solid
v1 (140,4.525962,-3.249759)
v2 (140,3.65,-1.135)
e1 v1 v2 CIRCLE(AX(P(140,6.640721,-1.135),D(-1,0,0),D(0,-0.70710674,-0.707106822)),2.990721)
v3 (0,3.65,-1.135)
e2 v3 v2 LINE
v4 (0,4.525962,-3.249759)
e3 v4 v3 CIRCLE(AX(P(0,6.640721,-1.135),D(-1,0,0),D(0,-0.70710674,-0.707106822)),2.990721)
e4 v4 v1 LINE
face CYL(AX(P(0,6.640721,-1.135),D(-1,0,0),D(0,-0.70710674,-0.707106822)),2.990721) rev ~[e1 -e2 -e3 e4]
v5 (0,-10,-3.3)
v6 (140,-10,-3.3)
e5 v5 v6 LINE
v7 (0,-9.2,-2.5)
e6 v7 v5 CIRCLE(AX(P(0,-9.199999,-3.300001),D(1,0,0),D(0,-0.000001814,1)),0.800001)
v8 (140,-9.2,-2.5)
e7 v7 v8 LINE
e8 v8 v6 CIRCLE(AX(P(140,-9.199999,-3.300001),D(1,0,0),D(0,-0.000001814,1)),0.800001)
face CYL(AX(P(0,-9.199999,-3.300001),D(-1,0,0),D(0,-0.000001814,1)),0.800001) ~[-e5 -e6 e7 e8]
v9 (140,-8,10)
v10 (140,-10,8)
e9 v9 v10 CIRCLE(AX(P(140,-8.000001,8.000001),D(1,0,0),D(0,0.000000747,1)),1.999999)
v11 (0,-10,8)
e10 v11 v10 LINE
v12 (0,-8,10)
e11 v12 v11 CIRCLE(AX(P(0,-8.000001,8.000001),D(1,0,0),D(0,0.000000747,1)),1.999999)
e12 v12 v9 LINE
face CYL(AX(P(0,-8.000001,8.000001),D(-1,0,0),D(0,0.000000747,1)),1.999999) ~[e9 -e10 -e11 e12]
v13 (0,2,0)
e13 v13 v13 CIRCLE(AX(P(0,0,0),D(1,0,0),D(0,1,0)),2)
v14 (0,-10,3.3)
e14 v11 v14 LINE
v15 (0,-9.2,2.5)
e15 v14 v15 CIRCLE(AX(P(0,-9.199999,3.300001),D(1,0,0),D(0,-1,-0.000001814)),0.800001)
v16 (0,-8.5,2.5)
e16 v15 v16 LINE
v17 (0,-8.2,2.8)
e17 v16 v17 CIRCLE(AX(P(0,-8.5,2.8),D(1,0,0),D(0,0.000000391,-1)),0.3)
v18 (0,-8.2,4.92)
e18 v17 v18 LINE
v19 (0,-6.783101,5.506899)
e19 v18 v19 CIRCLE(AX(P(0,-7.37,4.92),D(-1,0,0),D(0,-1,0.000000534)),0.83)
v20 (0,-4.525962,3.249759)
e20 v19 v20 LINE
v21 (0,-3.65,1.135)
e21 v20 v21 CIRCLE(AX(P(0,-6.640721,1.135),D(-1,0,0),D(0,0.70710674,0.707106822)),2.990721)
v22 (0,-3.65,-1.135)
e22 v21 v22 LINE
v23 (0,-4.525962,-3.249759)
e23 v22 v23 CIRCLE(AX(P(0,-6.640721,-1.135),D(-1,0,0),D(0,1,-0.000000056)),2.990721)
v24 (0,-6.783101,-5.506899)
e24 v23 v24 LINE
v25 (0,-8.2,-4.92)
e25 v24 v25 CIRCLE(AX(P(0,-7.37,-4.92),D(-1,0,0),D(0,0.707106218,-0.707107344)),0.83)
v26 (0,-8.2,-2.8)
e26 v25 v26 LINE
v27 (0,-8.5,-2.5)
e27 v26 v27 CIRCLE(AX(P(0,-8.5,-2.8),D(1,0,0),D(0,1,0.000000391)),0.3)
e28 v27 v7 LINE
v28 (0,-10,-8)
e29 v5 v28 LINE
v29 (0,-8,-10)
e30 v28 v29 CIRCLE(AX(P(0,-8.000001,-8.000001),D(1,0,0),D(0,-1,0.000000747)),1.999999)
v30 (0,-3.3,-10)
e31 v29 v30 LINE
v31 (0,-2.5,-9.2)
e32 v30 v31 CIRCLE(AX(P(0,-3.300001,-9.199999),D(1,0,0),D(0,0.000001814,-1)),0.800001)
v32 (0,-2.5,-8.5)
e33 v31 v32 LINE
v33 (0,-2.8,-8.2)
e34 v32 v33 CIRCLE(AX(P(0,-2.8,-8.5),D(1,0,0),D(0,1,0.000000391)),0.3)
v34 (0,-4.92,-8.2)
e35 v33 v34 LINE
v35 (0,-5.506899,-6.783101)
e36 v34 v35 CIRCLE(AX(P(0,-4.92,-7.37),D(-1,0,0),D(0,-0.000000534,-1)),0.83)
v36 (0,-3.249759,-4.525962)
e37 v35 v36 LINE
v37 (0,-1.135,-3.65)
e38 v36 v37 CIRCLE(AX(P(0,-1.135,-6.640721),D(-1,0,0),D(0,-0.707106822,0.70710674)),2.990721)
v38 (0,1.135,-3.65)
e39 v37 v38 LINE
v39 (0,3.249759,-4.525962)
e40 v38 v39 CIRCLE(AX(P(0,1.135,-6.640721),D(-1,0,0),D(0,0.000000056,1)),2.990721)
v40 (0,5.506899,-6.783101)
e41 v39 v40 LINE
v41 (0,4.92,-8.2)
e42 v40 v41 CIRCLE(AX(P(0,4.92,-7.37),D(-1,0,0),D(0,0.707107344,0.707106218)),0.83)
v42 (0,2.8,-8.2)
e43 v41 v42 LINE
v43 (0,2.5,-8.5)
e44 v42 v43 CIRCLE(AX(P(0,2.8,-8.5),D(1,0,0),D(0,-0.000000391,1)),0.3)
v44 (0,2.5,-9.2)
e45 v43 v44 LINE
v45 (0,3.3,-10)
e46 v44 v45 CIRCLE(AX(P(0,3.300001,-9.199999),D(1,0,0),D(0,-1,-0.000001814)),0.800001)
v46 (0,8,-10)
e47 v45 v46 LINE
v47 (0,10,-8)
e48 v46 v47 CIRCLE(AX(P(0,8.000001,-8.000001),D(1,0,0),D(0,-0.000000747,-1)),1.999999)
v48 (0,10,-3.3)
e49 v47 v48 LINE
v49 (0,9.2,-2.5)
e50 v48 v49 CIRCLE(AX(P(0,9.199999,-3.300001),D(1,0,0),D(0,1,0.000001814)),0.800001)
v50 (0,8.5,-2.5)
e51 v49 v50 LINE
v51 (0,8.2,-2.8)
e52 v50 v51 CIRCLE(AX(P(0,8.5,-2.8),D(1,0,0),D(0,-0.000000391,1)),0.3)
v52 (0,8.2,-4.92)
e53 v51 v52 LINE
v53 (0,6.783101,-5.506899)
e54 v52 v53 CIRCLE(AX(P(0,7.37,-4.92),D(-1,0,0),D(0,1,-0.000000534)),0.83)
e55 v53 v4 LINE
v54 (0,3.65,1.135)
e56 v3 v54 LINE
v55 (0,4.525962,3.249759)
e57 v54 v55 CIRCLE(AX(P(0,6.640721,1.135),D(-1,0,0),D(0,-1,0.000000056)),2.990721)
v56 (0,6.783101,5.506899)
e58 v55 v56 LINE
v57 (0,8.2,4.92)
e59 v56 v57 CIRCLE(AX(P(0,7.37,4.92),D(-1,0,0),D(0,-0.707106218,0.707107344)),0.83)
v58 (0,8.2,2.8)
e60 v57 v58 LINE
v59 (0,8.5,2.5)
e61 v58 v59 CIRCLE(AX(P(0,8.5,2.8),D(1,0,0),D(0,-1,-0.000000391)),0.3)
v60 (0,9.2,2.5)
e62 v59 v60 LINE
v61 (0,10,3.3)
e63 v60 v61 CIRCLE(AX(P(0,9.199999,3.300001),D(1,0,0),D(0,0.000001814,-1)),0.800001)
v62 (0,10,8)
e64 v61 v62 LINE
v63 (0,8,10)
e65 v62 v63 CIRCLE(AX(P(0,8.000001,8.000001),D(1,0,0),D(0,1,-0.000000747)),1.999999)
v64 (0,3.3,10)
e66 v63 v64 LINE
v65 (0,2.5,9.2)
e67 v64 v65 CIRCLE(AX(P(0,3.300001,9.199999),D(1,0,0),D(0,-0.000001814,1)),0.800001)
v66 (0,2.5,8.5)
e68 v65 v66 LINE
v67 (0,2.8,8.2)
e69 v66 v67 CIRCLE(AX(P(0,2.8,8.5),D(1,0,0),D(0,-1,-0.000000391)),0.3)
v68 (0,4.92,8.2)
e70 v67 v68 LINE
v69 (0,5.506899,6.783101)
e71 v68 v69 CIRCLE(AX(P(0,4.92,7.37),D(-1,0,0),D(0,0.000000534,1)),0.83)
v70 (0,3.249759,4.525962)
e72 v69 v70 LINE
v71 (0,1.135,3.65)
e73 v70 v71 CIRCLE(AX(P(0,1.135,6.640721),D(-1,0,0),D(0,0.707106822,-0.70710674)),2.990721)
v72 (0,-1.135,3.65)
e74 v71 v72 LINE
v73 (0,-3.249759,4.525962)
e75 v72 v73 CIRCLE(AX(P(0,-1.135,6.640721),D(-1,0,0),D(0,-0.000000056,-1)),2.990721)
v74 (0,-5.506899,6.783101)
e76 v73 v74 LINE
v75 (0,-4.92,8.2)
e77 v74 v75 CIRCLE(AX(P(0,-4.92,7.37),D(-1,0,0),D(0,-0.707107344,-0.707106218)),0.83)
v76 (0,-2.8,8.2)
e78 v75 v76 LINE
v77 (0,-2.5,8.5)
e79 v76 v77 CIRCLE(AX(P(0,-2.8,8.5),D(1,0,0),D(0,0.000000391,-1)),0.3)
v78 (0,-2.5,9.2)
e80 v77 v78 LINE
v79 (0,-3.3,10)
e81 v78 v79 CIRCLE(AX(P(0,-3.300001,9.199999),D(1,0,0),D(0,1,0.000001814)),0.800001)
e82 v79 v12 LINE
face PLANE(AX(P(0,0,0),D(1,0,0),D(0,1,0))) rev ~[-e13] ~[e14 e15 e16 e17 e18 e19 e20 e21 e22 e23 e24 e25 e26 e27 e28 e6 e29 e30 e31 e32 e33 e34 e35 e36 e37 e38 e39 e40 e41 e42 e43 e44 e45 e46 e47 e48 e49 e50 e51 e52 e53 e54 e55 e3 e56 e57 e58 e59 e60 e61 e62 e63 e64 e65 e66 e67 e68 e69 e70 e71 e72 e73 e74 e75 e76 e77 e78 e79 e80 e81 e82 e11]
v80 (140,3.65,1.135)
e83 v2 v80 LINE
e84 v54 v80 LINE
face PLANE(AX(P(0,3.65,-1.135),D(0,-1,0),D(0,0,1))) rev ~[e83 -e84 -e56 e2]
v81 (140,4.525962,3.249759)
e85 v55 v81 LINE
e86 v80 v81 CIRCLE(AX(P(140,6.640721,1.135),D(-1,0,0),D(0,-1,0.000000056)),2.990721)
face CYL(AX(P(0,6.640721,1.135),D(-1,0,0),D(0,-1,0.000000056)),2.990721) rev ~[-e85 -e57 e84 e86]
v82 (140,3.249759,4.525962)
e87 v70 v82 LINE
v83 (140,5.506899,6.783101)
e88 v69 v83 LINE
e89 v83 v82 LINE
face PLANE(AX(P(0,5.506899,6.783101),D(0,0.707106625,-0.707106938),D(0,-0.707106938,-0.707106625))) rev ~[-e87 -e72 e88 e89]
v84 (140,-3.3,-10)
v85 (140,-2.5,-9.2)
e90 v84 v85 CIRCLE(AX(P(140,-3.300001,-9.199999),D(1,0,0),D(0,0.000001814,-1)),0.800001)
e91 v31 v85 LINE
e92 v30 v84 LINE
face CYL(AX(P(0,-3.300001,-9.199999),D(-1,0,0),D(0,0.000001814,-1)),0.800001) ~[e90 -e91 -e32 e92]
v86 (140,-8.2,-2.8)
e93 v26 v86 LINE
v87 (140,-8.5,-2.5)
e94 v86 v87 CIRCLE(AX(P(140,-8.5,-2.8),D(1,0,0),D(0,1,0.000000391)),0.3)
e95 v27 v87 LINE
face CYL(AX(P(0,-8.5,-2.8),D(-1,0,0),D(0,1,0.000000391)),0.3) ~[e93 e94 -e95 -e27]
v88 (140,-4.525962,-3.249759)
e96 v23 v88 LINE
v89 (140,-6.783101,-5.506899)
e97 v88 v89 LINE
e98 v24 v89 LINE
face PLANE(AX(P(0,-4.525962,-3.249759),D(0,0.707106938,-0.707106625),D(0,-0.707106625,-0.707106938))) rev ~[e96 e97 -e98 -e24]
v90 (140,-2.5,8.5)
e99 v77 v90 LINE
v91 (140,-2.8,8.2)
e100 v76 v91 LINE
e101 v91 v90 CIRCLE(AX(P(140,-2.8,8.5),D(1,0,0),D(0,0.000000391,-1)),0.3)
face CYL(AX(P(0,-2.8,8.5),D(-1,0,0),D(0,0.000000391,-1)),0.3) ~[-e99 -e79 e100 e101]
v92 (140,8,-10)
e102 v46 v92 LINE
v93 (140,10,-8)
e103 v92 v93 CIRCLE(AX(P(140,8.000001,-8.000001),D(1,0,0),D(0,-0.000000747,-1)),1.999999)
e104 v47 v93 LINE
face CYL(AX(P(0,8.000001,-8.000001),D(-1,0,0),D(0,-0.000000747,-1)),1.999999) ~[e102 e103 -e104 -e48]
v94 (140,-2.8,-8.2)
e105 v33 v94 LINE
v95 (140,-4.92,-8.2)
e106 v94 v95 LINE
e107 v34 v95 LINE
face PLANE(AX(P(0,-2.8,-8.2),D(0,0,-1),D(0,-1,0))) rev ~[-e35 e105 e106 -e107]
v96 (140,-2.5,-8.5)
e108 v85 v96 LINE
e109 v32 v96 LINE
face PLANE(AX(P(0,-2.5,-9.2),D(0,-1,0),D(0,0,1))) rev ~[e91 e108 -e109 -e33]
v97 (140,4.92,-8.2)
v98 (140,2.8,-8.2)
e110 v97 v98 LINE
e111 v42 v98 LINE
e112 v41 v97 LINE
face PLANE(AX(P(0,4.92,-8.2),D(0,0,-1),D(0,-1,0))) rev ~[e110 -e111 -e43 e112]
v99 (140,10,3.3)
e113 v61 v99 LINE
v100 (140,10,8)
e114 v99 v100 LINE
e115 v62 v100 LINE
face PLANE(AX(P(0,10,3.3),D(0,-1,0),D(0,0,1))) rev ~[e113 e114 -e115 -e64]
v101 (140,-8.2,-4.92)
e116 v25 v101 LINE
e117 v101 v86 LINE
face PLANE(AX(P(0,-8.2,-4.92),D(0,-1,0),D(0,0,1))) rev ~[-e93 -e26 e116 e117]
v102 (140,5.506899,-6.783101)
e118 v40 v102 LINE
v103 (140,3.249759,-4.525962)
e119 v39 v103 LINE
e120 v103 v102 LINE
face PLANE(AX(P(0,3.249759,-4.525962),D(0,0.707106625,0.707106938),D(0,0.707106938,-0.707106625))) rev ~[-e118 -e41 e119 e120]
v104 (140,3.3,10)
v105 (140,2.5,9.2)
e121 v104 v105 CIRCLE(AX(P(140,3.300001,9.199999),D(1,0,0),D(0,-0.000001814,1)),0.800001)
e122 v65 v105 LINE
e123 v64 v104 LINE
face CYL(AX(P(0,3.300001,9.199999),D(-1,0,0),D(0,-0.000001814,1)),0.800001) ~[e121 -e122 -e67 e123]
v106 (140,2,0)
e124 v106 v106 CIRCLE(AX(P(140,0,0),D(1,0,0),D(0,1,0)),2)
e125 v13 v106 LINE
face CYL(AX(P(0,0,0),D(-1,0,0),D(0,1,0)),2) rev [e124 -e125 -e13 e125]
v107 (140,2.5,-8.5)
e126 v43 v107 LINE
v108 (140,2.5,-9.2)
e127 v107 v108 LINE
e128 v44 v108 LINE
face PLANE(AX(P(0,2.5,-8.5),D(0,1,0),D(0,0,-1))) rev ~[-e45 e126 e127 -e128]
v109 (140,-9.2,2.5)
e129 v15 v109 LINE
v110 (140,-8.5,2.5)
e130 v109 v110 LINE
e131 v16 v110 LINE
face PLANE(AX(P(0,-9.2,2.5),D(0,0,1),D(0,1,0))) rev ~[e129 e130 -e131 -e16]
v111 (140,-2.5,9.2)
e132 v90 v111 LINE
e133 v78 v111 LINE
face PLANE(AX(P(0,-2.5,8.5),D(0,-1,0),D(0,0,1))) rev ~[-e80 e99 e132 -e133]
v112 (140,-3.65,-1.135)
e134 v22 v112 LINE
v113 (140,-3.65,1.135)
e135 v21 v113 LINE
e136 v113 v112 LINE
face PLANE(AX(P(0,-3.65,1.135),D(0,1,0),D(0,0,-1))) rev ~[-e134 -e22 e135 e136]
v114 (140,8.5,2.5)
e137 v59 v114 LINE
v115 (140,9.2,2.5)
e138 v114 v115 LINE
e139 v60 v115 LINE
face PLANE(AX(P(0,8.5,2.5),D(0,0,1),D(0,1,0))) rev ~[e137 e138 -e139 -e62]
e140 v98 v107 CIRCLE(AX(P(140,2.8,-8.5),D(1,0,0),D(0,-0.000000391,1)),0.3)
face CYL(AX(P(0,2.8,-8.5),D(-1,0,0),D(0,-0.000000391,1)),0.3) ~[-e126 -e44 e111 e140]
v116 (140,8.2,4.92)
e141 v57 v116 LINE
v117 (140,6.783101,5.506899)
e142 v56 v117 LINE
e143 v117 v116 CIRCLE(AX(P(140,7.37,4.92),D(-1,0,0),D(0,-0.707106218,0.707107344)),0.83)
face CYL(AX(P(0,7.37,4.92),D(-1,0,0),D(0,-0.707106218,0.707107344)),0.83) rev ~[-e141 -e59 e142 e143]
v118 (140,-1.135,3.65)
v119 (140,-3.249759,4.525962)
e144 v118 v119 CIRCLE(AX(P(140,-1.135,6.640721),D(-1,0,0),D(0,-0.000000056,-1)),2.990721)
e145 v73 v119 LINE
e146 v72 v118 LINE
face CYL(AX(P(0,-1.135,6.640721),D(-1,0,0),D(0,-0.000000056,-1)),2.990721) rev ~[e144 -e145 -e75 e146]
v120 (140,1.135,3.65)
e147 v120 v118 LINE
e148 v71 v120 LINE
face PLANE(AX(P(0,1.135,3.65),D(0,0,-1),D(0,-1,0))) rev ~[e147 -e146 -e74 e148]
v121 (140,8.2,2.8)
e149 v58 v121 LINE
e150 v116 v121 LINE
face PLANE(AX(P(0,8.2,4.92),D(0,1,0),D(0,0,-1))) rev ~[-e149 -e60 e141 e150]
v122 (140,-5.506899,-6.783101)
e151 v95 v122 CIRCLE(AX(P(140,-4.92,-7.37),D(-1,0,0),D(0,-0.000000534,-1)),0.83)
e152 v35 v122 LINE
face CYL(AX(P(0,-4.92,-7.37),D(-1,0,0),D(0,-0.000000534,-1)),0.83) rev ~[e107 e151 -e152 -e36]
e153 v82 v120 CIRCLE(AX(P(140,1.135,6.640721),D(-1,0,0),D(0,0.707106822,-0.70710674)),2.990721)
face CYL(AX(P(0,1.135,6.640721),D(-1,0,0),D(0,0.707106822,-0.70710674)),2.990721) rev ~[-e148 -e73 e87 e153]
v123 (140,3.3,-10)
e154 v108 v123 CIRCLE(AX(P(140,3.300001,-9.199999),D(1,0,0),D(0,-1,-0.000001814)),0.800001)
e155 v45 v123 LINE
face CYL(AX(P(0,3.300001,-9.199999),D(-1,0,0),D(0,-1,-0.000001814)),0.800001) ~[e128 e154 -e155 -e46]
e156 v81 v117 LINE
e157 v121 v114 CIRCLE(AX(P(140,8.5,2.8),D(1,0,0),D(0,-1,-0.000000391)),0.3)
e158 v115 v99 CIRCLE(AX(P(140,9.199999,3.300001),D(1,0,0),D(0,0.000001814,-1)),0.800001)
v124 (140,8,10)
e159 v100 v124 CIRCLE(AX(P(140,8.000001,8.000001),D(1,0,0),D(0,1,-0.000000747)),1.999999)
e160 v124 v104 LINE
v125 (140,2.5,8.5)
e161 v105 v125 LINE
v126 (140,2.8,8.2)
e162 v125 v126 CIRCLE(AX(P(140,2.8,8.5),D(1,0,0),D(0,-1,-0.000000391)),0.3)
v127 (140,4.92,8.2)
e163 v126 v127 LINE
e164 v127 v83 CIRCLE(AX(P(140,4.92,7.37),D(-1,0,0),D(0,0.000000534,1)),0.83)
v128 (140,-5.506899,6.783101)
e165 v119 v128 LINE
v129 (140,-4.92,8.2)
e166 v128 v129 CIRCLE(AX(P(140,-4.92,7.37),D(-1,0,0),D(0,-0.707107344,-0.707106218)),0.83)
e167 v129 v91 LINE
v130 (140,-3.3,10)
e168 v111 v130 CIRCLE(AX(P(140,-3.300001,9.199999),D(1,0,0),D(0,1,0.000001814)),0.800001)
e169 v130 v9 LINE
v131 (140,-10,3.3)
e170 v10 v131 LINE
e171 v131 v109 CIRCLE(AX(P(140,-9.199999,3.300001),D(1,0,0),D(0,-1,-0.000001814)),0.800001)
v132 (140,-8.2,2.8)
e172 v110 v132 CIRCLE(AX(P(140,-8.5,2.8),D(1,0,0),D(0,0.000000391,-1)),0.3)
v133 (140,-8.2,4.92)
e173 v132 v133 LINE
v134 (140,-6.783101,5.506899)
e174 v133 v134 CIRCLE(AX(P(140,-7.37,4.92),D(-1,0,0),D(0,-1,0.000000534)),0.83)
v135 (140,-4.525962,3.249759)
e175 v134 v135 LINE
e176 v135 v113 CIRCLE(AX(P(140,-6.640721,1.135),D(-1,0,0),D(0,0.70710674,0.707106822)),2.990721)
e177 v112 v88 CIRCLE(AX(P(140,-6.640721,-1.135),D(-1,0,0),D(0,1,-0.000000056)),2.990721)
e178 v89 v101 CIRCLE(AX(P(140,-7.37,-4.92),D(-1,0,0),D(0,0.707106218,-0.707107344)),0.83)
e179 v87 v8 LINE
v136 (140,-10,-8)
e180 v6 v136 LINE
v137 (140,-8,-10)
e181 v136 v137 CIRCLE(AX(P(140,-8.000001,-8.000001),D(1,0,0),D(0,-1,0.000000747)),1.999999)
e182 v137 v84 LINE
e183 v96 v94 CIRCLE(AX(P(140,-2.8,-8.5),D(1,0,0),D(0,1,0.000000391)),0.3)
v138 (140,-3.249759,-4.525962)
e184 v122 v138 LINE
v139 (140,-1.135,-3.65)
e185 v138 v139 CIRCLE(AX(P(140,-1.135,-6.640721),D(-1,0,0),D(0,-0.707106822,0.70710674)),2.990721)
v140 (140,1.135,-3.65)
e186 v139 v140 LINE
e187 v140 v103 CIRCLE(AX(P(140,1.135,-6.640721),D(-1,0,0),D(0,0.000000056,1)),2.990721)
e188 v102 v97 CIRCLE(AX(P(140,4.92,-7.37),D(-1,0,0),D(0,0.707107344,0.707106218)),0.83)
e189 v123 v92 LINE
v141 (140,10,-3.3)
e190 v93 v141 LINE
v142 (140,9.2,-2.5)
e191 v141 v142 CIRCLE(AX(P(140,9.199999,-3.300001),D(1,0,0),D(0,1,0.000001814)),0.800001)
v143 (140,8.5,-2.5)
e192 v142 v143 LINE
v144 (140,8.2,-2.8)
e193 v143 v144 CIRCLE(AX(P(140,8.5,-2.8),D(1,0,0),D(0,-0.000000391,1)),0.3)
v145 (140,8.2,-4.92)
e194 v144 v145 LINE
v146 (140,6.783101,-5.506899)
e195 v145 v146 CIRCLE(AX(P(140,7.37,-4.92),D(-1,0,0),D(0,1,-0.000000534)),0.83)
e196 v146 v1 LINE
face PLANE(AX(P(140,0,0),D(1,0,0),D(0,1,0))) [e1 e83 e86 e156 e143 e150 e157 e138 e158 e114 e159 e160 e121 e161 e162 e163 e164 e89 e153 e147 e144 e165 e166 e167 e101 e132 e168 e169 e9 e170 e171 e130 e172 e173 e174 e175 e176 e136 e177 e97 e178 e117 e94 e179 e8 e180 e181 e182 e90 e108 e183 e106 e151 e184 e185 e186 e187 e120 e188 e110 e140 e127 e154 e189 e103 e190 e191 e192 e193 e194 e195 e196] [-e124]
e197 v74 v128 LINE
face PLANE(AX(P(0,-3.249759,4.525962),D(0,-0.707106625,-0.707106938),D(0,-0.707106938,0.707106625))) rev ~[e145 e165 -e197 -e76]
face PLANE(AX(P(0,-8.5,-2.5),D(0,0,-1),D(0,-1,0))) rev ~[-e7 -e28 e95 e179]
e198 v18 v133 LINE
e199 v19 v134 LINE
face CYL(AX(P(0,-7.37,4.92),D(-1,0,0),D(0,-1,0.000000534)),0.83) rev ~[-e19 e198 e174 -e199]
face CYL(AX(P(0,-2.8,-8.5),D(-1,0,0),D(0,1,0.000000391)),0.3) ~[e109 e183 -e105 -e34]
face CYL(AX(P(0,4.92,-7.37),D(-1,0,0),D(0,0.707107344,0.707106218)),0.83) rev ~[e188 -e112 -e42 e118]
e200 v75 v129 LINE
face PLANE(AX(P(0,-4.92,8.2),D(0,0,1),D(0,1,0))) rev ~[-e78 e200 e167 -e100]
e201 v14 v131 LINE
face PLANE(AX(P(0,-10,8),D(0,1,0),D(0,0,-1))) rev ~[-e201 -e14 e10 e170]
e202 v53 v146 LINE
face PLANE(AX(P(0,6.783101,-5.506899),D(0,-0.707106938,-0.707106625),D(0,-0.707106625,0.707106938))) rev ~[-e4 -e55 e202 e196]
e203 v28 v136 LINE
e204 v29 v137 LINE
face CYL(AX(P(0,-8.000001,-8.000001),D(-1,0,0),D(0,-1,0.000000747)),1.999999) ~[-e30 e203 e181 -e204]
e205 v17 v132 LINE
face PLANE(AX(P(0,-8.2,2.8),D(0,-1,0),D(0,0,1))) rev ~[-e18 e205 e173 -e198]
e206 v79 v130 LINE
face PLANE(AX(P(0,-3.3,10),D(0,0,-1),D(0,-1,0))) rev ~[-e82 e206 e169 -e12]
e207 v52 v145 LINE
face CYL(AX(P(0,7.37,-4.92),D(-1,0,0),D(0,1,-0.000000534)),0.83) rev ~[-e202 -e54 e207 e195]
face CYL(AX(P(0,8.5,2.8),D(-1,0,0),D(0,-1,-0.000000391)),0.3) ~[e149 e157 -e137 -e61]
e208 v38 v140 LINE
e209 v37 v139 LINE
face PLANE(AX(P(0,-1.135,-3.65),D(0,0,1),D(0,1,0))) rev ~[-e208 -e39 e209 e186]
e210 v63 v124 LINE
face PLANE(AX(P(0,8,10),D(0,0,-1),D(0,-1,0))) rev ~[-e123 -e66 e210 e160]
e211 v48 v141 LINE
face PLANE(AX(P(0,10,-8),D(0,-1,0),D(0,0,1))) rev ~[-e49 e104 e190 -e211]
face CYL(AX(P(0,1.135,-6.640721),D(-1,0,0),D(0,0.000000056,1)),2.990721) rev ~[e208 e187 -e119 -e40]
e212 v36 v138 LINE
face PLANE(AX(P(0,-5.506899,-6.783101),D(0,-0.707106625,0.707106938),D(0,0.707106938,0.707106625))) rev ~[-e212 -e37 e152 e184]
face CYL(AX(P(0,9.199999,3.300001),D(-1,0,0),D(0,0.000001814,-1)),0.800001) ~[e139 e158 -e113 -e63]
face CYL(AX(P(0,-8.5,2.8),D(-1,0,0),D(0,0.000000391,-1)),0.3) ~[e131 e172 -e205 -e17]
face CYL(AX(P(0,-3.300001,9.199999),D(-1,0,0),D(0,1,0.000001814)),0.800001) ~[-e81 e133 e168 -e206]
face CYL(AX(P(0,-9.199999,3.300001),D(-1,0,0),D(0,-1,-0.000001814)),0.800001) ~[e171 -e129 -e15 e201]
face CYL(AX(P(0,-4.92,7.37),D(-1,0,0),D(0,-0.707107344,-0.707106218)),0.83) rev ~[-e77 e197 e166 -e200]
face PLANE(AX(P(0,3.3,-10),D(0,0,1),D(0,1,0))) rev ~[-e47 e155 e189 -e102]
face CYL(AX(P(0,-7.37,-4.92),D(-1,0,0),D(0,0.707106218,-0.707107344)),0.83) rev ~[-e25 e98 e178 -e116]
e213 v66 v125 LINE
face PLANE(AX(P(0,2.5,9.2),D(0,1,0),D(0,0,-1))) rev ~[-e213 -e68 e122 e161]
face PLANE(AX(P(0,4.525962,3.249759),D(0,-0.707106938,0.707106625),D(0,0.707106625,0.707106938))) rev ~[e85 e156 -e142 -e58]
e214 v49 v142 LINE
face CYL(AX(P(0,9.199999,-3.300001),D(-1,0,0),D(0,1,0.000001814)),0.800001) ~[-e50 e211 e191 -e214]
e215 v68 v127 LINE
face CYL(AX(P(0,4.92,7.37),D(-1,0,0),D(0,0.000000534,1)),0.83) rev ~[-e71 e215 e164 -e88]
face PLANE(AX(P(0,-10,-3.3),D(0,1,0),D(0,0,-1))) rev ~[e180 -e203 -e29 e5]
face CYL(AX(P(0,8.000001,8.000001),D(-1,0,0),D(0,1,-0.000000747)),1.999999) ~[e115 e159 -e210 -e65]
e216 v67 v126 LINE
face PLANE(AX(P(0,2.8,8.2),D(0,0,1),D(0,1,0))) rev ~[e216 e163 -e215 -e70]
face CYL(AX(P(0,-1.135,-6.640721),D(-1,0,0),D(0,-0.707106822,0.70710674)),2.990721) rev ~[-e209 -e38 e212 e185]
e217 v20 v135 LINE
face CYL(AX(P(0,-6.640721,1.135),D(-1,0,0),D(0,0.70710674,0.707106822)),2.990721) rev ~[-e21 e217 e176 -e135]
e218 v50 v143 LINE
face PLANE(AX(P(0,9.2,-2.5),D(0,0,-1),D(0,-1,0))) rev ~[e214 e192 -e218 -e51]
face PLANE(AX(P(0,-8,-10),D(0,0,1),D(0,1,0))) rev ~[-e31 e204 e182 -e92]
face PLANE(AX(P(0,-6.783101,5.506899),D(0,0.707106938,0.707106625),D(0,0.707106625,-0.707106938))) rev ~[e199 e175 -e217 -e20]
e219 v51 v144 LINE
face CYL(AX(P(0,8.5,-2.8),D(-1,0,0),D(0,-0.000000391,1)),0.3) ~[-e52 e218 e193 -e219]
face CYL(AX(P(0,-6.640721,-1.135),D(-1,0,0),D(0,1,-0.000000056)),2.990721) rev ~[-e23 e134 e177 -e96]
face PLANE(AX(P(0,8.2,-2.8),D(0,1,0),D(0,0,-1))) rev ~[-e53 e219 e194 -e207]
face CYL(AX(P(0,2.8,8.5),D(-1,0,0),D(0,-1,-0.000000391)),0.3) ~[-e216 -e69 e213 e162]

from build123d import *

# Parameters (mm, degrees)
F0_R     = 2
F1_DEPTH = 140


with BuildPart() as f1:
    # F0 (on Right) → F1 (new body)
    with BuildSketch(Plane.YZ):
        with BuildLine():
            Line((-3.3, 10), (-8, 10))
            ThreePointArc((-8, 10), (-9.414214, 9.414214), (-10, 8))
            Line((-10, 8), (-10, 3.3))
            ThreePointArc((-10, 3.3), (-9.765685, 2.734315), (-9.2, 2.5))
            Line((-9.2, 2.5), (-8.5, 2.5))
            ThreePointArc((-8.5, 2.5), (-8.287868, 2.587868), (-8.2, 2.8))
            Line((-8.2, 2.8), (-8.2, 4.92))
            ThreePointArc((-8.2, 4.92), (-7.687627, 5.68682), (-6.783101, 5.506899))
            Line((-6.783101, 5.506899), (-4.525962, 3.249759))
            ThreePointArc((-4.525962, 3.249759), (-3.877655, 2.279499), (-3.65, 1.135))
            Line((-3.65, 1.135), (-3.65, -1.135))
            ThreePointArc((-3.65, -1.135), (-3.877655, -2.279499), (-4.525962, -3.249759))
            Line((-4.525962, -3.249759), (-6.783101, -5.506899))
            ThreePointArc((-6.783101, -5.506899), (-7.687627, -5.68682), (-8.2, -4.92))
            Line((-8.2, -4.92), (-8.2, -2.8))
            ThreePointArc((-8.2, -2.8), (-8.287868, -2.587868), (-8.5, -2.5))
            Line((-8.5, -2.5), (-9.2, -2.5))
            ThreePointArc((-9.2, -2.5), (-9.765685, -2.734315), (-10, -3.3))
            Line((-10, -3.3), (-10, -8))
            ThreePointArc((-10, -8), (-9.414214, -9.414214), (-8, -10))
            Line((-8, -10), (-3.3, -10))
            ThreePointArc((-3.3, -10), (-2.734315, -9.765685), (-2.5, -9.2))
            Line((-2.5, -9.2), (-2.5, -8.5))
            ThreePointArc((-2.5, -8.5), (-2.587868, -8.287868), (-2.8, -8.2))
            Line((-2.8, -8.2), (-4.92, -8.2))
            ThreePointArc((-4.92, -8.2), (-5.68682, -7.687627), (-5.506899, -6.783101))
            Line((-5.506899, -6.783101), (-3.249759, -4.525962))
            ThreePointArc((-3.249759, -4.525962), (-2.279499, -3.877655), (-1.135, -3.65))
            Line((-1.135, -3.65), (1.135, -3.65))
            ThreePointArc((1.135, -3.65), (2.279499, -3.877655), (3.249759, -4.525962))
            Line((3.249759, -4.525962), (5.506899, -6.783101))
            ThreePointArc((5.506899, -6.783101), (5.68682, -7.687627), (4.92, -8.2))
            Line((4.92, -8.2), (2.8, -8.2))
            ThreePointArc((2.8, -8.2), (2.587868, -8.287868), (2.5, -8.5))
            Line((2.5, -8.5), (2.5, -9.2))
            ThreePointArc((2.5, -9.2), (2.734315, -9.765685), (3.3, -10))
            Line((3.3, -10), (8, -10))
            ThreePointArc((8, -10), (9.414214, -9.414214), (10, -8))
            Line((10, -8), (10, -3.3))
            ThreePointArc((10, -3.3), (9.765685, -2.734315), (9.2, -2.5))
            Line((9.2, -2.5), (8.5, -2.5))
            ThreePointArc((8.5, -2.5), (8.287868, -2.587868), (8.2, -2.8))
            Line((8.2, -2.8), (8.2, -4.92))
            ThreePointArc((8.2, -4.92), (7.687627, -5.68682), (6.783101, -5.506899))
            Line((6.783101, -5.506899), (4.525962, -3.249759))
            ThreePointArc((4.525962, -3.249759), (3.877655, -2.279499), (3.65, -1.135))
            Line((3.65, -1.135), (3.65, 1.135))
            ThreePointArc((3.65, 1.135), (3.877655, 2.279499), (4.525962, 3.249759))
            Line((4.525962, 3.249759), (6.783101, 5.506899))
            ThreePointArc((6.783101, 5.506899), (7.687627, 5.68682), (8.2, 4.92))
            Line((8.2, 4.92), (8.2, 2.8))
            ThreePointArc((8.2, 2.8), (8.287868, 2.587868), (8.5, 2.5))
            Line((8.5, 2.5), (9.2, 2.5))
            ThreePointArc((9.2, 2.5), (9.765685, 2.734315), (10, 3.3))
            Line((10, 3.3), (10, 8))
            ThreePointArc((10, 8), (9.414214, 9.414214), (8, 10))
            Line((8, 10), (3.3, 10))
            ThreePointArc((3.3, 10), (2.734315, 9.765685), (2.5, 9.2))
            Line((2.5, 9.2), (2.5, 8.5))
            ThreePointArc((2.5, 8.5), (2.587868, 8.287868), (2.8, 8.2))
            Line((2.8, 8.2), (4.92, 8.2))
            ThreePointArc((4.92, 8.2), (5.68682, 7.687627), (5.506899, 6.783101))
            Line((5.506899, 6.783101), (3.249759, 4.525962))
            ThreePointArc((3.249759, 4.525962), (2.279499, 3.877655), (1.135, 3.65))
            Line((1.135, 3.65), (-1.135, 3.65))
            ThreePointArc((-1.135, 3.65), (-2.279499, 3.877655), (-3.249759, 4.525962))
            Line((-3.249759, 4.525962), (-5.506899, 6.783101))
            ThreePointArc((-5.506899, 6.783101), (-5.68682, 7.687627), (-4.92, 8.2))
            Line((-4.92, 8.2), (-2.8, 8.2))
            ThreePointArc((-2.8, 8.2), (-2.587868, 8.287868), (-2.5, 8.5))
            Line((-2.5, 8.5), (-2.5, 9.2))
            ThreePointArc((-2.5, 9.2), (-2.734315, 9.765685), (-3.3, 10))
        make_face()
        Circle(F0_R, mode=Mode.SUBTRACT)
    extrude(amount=F1_DEPTH)


solid = f1.part
